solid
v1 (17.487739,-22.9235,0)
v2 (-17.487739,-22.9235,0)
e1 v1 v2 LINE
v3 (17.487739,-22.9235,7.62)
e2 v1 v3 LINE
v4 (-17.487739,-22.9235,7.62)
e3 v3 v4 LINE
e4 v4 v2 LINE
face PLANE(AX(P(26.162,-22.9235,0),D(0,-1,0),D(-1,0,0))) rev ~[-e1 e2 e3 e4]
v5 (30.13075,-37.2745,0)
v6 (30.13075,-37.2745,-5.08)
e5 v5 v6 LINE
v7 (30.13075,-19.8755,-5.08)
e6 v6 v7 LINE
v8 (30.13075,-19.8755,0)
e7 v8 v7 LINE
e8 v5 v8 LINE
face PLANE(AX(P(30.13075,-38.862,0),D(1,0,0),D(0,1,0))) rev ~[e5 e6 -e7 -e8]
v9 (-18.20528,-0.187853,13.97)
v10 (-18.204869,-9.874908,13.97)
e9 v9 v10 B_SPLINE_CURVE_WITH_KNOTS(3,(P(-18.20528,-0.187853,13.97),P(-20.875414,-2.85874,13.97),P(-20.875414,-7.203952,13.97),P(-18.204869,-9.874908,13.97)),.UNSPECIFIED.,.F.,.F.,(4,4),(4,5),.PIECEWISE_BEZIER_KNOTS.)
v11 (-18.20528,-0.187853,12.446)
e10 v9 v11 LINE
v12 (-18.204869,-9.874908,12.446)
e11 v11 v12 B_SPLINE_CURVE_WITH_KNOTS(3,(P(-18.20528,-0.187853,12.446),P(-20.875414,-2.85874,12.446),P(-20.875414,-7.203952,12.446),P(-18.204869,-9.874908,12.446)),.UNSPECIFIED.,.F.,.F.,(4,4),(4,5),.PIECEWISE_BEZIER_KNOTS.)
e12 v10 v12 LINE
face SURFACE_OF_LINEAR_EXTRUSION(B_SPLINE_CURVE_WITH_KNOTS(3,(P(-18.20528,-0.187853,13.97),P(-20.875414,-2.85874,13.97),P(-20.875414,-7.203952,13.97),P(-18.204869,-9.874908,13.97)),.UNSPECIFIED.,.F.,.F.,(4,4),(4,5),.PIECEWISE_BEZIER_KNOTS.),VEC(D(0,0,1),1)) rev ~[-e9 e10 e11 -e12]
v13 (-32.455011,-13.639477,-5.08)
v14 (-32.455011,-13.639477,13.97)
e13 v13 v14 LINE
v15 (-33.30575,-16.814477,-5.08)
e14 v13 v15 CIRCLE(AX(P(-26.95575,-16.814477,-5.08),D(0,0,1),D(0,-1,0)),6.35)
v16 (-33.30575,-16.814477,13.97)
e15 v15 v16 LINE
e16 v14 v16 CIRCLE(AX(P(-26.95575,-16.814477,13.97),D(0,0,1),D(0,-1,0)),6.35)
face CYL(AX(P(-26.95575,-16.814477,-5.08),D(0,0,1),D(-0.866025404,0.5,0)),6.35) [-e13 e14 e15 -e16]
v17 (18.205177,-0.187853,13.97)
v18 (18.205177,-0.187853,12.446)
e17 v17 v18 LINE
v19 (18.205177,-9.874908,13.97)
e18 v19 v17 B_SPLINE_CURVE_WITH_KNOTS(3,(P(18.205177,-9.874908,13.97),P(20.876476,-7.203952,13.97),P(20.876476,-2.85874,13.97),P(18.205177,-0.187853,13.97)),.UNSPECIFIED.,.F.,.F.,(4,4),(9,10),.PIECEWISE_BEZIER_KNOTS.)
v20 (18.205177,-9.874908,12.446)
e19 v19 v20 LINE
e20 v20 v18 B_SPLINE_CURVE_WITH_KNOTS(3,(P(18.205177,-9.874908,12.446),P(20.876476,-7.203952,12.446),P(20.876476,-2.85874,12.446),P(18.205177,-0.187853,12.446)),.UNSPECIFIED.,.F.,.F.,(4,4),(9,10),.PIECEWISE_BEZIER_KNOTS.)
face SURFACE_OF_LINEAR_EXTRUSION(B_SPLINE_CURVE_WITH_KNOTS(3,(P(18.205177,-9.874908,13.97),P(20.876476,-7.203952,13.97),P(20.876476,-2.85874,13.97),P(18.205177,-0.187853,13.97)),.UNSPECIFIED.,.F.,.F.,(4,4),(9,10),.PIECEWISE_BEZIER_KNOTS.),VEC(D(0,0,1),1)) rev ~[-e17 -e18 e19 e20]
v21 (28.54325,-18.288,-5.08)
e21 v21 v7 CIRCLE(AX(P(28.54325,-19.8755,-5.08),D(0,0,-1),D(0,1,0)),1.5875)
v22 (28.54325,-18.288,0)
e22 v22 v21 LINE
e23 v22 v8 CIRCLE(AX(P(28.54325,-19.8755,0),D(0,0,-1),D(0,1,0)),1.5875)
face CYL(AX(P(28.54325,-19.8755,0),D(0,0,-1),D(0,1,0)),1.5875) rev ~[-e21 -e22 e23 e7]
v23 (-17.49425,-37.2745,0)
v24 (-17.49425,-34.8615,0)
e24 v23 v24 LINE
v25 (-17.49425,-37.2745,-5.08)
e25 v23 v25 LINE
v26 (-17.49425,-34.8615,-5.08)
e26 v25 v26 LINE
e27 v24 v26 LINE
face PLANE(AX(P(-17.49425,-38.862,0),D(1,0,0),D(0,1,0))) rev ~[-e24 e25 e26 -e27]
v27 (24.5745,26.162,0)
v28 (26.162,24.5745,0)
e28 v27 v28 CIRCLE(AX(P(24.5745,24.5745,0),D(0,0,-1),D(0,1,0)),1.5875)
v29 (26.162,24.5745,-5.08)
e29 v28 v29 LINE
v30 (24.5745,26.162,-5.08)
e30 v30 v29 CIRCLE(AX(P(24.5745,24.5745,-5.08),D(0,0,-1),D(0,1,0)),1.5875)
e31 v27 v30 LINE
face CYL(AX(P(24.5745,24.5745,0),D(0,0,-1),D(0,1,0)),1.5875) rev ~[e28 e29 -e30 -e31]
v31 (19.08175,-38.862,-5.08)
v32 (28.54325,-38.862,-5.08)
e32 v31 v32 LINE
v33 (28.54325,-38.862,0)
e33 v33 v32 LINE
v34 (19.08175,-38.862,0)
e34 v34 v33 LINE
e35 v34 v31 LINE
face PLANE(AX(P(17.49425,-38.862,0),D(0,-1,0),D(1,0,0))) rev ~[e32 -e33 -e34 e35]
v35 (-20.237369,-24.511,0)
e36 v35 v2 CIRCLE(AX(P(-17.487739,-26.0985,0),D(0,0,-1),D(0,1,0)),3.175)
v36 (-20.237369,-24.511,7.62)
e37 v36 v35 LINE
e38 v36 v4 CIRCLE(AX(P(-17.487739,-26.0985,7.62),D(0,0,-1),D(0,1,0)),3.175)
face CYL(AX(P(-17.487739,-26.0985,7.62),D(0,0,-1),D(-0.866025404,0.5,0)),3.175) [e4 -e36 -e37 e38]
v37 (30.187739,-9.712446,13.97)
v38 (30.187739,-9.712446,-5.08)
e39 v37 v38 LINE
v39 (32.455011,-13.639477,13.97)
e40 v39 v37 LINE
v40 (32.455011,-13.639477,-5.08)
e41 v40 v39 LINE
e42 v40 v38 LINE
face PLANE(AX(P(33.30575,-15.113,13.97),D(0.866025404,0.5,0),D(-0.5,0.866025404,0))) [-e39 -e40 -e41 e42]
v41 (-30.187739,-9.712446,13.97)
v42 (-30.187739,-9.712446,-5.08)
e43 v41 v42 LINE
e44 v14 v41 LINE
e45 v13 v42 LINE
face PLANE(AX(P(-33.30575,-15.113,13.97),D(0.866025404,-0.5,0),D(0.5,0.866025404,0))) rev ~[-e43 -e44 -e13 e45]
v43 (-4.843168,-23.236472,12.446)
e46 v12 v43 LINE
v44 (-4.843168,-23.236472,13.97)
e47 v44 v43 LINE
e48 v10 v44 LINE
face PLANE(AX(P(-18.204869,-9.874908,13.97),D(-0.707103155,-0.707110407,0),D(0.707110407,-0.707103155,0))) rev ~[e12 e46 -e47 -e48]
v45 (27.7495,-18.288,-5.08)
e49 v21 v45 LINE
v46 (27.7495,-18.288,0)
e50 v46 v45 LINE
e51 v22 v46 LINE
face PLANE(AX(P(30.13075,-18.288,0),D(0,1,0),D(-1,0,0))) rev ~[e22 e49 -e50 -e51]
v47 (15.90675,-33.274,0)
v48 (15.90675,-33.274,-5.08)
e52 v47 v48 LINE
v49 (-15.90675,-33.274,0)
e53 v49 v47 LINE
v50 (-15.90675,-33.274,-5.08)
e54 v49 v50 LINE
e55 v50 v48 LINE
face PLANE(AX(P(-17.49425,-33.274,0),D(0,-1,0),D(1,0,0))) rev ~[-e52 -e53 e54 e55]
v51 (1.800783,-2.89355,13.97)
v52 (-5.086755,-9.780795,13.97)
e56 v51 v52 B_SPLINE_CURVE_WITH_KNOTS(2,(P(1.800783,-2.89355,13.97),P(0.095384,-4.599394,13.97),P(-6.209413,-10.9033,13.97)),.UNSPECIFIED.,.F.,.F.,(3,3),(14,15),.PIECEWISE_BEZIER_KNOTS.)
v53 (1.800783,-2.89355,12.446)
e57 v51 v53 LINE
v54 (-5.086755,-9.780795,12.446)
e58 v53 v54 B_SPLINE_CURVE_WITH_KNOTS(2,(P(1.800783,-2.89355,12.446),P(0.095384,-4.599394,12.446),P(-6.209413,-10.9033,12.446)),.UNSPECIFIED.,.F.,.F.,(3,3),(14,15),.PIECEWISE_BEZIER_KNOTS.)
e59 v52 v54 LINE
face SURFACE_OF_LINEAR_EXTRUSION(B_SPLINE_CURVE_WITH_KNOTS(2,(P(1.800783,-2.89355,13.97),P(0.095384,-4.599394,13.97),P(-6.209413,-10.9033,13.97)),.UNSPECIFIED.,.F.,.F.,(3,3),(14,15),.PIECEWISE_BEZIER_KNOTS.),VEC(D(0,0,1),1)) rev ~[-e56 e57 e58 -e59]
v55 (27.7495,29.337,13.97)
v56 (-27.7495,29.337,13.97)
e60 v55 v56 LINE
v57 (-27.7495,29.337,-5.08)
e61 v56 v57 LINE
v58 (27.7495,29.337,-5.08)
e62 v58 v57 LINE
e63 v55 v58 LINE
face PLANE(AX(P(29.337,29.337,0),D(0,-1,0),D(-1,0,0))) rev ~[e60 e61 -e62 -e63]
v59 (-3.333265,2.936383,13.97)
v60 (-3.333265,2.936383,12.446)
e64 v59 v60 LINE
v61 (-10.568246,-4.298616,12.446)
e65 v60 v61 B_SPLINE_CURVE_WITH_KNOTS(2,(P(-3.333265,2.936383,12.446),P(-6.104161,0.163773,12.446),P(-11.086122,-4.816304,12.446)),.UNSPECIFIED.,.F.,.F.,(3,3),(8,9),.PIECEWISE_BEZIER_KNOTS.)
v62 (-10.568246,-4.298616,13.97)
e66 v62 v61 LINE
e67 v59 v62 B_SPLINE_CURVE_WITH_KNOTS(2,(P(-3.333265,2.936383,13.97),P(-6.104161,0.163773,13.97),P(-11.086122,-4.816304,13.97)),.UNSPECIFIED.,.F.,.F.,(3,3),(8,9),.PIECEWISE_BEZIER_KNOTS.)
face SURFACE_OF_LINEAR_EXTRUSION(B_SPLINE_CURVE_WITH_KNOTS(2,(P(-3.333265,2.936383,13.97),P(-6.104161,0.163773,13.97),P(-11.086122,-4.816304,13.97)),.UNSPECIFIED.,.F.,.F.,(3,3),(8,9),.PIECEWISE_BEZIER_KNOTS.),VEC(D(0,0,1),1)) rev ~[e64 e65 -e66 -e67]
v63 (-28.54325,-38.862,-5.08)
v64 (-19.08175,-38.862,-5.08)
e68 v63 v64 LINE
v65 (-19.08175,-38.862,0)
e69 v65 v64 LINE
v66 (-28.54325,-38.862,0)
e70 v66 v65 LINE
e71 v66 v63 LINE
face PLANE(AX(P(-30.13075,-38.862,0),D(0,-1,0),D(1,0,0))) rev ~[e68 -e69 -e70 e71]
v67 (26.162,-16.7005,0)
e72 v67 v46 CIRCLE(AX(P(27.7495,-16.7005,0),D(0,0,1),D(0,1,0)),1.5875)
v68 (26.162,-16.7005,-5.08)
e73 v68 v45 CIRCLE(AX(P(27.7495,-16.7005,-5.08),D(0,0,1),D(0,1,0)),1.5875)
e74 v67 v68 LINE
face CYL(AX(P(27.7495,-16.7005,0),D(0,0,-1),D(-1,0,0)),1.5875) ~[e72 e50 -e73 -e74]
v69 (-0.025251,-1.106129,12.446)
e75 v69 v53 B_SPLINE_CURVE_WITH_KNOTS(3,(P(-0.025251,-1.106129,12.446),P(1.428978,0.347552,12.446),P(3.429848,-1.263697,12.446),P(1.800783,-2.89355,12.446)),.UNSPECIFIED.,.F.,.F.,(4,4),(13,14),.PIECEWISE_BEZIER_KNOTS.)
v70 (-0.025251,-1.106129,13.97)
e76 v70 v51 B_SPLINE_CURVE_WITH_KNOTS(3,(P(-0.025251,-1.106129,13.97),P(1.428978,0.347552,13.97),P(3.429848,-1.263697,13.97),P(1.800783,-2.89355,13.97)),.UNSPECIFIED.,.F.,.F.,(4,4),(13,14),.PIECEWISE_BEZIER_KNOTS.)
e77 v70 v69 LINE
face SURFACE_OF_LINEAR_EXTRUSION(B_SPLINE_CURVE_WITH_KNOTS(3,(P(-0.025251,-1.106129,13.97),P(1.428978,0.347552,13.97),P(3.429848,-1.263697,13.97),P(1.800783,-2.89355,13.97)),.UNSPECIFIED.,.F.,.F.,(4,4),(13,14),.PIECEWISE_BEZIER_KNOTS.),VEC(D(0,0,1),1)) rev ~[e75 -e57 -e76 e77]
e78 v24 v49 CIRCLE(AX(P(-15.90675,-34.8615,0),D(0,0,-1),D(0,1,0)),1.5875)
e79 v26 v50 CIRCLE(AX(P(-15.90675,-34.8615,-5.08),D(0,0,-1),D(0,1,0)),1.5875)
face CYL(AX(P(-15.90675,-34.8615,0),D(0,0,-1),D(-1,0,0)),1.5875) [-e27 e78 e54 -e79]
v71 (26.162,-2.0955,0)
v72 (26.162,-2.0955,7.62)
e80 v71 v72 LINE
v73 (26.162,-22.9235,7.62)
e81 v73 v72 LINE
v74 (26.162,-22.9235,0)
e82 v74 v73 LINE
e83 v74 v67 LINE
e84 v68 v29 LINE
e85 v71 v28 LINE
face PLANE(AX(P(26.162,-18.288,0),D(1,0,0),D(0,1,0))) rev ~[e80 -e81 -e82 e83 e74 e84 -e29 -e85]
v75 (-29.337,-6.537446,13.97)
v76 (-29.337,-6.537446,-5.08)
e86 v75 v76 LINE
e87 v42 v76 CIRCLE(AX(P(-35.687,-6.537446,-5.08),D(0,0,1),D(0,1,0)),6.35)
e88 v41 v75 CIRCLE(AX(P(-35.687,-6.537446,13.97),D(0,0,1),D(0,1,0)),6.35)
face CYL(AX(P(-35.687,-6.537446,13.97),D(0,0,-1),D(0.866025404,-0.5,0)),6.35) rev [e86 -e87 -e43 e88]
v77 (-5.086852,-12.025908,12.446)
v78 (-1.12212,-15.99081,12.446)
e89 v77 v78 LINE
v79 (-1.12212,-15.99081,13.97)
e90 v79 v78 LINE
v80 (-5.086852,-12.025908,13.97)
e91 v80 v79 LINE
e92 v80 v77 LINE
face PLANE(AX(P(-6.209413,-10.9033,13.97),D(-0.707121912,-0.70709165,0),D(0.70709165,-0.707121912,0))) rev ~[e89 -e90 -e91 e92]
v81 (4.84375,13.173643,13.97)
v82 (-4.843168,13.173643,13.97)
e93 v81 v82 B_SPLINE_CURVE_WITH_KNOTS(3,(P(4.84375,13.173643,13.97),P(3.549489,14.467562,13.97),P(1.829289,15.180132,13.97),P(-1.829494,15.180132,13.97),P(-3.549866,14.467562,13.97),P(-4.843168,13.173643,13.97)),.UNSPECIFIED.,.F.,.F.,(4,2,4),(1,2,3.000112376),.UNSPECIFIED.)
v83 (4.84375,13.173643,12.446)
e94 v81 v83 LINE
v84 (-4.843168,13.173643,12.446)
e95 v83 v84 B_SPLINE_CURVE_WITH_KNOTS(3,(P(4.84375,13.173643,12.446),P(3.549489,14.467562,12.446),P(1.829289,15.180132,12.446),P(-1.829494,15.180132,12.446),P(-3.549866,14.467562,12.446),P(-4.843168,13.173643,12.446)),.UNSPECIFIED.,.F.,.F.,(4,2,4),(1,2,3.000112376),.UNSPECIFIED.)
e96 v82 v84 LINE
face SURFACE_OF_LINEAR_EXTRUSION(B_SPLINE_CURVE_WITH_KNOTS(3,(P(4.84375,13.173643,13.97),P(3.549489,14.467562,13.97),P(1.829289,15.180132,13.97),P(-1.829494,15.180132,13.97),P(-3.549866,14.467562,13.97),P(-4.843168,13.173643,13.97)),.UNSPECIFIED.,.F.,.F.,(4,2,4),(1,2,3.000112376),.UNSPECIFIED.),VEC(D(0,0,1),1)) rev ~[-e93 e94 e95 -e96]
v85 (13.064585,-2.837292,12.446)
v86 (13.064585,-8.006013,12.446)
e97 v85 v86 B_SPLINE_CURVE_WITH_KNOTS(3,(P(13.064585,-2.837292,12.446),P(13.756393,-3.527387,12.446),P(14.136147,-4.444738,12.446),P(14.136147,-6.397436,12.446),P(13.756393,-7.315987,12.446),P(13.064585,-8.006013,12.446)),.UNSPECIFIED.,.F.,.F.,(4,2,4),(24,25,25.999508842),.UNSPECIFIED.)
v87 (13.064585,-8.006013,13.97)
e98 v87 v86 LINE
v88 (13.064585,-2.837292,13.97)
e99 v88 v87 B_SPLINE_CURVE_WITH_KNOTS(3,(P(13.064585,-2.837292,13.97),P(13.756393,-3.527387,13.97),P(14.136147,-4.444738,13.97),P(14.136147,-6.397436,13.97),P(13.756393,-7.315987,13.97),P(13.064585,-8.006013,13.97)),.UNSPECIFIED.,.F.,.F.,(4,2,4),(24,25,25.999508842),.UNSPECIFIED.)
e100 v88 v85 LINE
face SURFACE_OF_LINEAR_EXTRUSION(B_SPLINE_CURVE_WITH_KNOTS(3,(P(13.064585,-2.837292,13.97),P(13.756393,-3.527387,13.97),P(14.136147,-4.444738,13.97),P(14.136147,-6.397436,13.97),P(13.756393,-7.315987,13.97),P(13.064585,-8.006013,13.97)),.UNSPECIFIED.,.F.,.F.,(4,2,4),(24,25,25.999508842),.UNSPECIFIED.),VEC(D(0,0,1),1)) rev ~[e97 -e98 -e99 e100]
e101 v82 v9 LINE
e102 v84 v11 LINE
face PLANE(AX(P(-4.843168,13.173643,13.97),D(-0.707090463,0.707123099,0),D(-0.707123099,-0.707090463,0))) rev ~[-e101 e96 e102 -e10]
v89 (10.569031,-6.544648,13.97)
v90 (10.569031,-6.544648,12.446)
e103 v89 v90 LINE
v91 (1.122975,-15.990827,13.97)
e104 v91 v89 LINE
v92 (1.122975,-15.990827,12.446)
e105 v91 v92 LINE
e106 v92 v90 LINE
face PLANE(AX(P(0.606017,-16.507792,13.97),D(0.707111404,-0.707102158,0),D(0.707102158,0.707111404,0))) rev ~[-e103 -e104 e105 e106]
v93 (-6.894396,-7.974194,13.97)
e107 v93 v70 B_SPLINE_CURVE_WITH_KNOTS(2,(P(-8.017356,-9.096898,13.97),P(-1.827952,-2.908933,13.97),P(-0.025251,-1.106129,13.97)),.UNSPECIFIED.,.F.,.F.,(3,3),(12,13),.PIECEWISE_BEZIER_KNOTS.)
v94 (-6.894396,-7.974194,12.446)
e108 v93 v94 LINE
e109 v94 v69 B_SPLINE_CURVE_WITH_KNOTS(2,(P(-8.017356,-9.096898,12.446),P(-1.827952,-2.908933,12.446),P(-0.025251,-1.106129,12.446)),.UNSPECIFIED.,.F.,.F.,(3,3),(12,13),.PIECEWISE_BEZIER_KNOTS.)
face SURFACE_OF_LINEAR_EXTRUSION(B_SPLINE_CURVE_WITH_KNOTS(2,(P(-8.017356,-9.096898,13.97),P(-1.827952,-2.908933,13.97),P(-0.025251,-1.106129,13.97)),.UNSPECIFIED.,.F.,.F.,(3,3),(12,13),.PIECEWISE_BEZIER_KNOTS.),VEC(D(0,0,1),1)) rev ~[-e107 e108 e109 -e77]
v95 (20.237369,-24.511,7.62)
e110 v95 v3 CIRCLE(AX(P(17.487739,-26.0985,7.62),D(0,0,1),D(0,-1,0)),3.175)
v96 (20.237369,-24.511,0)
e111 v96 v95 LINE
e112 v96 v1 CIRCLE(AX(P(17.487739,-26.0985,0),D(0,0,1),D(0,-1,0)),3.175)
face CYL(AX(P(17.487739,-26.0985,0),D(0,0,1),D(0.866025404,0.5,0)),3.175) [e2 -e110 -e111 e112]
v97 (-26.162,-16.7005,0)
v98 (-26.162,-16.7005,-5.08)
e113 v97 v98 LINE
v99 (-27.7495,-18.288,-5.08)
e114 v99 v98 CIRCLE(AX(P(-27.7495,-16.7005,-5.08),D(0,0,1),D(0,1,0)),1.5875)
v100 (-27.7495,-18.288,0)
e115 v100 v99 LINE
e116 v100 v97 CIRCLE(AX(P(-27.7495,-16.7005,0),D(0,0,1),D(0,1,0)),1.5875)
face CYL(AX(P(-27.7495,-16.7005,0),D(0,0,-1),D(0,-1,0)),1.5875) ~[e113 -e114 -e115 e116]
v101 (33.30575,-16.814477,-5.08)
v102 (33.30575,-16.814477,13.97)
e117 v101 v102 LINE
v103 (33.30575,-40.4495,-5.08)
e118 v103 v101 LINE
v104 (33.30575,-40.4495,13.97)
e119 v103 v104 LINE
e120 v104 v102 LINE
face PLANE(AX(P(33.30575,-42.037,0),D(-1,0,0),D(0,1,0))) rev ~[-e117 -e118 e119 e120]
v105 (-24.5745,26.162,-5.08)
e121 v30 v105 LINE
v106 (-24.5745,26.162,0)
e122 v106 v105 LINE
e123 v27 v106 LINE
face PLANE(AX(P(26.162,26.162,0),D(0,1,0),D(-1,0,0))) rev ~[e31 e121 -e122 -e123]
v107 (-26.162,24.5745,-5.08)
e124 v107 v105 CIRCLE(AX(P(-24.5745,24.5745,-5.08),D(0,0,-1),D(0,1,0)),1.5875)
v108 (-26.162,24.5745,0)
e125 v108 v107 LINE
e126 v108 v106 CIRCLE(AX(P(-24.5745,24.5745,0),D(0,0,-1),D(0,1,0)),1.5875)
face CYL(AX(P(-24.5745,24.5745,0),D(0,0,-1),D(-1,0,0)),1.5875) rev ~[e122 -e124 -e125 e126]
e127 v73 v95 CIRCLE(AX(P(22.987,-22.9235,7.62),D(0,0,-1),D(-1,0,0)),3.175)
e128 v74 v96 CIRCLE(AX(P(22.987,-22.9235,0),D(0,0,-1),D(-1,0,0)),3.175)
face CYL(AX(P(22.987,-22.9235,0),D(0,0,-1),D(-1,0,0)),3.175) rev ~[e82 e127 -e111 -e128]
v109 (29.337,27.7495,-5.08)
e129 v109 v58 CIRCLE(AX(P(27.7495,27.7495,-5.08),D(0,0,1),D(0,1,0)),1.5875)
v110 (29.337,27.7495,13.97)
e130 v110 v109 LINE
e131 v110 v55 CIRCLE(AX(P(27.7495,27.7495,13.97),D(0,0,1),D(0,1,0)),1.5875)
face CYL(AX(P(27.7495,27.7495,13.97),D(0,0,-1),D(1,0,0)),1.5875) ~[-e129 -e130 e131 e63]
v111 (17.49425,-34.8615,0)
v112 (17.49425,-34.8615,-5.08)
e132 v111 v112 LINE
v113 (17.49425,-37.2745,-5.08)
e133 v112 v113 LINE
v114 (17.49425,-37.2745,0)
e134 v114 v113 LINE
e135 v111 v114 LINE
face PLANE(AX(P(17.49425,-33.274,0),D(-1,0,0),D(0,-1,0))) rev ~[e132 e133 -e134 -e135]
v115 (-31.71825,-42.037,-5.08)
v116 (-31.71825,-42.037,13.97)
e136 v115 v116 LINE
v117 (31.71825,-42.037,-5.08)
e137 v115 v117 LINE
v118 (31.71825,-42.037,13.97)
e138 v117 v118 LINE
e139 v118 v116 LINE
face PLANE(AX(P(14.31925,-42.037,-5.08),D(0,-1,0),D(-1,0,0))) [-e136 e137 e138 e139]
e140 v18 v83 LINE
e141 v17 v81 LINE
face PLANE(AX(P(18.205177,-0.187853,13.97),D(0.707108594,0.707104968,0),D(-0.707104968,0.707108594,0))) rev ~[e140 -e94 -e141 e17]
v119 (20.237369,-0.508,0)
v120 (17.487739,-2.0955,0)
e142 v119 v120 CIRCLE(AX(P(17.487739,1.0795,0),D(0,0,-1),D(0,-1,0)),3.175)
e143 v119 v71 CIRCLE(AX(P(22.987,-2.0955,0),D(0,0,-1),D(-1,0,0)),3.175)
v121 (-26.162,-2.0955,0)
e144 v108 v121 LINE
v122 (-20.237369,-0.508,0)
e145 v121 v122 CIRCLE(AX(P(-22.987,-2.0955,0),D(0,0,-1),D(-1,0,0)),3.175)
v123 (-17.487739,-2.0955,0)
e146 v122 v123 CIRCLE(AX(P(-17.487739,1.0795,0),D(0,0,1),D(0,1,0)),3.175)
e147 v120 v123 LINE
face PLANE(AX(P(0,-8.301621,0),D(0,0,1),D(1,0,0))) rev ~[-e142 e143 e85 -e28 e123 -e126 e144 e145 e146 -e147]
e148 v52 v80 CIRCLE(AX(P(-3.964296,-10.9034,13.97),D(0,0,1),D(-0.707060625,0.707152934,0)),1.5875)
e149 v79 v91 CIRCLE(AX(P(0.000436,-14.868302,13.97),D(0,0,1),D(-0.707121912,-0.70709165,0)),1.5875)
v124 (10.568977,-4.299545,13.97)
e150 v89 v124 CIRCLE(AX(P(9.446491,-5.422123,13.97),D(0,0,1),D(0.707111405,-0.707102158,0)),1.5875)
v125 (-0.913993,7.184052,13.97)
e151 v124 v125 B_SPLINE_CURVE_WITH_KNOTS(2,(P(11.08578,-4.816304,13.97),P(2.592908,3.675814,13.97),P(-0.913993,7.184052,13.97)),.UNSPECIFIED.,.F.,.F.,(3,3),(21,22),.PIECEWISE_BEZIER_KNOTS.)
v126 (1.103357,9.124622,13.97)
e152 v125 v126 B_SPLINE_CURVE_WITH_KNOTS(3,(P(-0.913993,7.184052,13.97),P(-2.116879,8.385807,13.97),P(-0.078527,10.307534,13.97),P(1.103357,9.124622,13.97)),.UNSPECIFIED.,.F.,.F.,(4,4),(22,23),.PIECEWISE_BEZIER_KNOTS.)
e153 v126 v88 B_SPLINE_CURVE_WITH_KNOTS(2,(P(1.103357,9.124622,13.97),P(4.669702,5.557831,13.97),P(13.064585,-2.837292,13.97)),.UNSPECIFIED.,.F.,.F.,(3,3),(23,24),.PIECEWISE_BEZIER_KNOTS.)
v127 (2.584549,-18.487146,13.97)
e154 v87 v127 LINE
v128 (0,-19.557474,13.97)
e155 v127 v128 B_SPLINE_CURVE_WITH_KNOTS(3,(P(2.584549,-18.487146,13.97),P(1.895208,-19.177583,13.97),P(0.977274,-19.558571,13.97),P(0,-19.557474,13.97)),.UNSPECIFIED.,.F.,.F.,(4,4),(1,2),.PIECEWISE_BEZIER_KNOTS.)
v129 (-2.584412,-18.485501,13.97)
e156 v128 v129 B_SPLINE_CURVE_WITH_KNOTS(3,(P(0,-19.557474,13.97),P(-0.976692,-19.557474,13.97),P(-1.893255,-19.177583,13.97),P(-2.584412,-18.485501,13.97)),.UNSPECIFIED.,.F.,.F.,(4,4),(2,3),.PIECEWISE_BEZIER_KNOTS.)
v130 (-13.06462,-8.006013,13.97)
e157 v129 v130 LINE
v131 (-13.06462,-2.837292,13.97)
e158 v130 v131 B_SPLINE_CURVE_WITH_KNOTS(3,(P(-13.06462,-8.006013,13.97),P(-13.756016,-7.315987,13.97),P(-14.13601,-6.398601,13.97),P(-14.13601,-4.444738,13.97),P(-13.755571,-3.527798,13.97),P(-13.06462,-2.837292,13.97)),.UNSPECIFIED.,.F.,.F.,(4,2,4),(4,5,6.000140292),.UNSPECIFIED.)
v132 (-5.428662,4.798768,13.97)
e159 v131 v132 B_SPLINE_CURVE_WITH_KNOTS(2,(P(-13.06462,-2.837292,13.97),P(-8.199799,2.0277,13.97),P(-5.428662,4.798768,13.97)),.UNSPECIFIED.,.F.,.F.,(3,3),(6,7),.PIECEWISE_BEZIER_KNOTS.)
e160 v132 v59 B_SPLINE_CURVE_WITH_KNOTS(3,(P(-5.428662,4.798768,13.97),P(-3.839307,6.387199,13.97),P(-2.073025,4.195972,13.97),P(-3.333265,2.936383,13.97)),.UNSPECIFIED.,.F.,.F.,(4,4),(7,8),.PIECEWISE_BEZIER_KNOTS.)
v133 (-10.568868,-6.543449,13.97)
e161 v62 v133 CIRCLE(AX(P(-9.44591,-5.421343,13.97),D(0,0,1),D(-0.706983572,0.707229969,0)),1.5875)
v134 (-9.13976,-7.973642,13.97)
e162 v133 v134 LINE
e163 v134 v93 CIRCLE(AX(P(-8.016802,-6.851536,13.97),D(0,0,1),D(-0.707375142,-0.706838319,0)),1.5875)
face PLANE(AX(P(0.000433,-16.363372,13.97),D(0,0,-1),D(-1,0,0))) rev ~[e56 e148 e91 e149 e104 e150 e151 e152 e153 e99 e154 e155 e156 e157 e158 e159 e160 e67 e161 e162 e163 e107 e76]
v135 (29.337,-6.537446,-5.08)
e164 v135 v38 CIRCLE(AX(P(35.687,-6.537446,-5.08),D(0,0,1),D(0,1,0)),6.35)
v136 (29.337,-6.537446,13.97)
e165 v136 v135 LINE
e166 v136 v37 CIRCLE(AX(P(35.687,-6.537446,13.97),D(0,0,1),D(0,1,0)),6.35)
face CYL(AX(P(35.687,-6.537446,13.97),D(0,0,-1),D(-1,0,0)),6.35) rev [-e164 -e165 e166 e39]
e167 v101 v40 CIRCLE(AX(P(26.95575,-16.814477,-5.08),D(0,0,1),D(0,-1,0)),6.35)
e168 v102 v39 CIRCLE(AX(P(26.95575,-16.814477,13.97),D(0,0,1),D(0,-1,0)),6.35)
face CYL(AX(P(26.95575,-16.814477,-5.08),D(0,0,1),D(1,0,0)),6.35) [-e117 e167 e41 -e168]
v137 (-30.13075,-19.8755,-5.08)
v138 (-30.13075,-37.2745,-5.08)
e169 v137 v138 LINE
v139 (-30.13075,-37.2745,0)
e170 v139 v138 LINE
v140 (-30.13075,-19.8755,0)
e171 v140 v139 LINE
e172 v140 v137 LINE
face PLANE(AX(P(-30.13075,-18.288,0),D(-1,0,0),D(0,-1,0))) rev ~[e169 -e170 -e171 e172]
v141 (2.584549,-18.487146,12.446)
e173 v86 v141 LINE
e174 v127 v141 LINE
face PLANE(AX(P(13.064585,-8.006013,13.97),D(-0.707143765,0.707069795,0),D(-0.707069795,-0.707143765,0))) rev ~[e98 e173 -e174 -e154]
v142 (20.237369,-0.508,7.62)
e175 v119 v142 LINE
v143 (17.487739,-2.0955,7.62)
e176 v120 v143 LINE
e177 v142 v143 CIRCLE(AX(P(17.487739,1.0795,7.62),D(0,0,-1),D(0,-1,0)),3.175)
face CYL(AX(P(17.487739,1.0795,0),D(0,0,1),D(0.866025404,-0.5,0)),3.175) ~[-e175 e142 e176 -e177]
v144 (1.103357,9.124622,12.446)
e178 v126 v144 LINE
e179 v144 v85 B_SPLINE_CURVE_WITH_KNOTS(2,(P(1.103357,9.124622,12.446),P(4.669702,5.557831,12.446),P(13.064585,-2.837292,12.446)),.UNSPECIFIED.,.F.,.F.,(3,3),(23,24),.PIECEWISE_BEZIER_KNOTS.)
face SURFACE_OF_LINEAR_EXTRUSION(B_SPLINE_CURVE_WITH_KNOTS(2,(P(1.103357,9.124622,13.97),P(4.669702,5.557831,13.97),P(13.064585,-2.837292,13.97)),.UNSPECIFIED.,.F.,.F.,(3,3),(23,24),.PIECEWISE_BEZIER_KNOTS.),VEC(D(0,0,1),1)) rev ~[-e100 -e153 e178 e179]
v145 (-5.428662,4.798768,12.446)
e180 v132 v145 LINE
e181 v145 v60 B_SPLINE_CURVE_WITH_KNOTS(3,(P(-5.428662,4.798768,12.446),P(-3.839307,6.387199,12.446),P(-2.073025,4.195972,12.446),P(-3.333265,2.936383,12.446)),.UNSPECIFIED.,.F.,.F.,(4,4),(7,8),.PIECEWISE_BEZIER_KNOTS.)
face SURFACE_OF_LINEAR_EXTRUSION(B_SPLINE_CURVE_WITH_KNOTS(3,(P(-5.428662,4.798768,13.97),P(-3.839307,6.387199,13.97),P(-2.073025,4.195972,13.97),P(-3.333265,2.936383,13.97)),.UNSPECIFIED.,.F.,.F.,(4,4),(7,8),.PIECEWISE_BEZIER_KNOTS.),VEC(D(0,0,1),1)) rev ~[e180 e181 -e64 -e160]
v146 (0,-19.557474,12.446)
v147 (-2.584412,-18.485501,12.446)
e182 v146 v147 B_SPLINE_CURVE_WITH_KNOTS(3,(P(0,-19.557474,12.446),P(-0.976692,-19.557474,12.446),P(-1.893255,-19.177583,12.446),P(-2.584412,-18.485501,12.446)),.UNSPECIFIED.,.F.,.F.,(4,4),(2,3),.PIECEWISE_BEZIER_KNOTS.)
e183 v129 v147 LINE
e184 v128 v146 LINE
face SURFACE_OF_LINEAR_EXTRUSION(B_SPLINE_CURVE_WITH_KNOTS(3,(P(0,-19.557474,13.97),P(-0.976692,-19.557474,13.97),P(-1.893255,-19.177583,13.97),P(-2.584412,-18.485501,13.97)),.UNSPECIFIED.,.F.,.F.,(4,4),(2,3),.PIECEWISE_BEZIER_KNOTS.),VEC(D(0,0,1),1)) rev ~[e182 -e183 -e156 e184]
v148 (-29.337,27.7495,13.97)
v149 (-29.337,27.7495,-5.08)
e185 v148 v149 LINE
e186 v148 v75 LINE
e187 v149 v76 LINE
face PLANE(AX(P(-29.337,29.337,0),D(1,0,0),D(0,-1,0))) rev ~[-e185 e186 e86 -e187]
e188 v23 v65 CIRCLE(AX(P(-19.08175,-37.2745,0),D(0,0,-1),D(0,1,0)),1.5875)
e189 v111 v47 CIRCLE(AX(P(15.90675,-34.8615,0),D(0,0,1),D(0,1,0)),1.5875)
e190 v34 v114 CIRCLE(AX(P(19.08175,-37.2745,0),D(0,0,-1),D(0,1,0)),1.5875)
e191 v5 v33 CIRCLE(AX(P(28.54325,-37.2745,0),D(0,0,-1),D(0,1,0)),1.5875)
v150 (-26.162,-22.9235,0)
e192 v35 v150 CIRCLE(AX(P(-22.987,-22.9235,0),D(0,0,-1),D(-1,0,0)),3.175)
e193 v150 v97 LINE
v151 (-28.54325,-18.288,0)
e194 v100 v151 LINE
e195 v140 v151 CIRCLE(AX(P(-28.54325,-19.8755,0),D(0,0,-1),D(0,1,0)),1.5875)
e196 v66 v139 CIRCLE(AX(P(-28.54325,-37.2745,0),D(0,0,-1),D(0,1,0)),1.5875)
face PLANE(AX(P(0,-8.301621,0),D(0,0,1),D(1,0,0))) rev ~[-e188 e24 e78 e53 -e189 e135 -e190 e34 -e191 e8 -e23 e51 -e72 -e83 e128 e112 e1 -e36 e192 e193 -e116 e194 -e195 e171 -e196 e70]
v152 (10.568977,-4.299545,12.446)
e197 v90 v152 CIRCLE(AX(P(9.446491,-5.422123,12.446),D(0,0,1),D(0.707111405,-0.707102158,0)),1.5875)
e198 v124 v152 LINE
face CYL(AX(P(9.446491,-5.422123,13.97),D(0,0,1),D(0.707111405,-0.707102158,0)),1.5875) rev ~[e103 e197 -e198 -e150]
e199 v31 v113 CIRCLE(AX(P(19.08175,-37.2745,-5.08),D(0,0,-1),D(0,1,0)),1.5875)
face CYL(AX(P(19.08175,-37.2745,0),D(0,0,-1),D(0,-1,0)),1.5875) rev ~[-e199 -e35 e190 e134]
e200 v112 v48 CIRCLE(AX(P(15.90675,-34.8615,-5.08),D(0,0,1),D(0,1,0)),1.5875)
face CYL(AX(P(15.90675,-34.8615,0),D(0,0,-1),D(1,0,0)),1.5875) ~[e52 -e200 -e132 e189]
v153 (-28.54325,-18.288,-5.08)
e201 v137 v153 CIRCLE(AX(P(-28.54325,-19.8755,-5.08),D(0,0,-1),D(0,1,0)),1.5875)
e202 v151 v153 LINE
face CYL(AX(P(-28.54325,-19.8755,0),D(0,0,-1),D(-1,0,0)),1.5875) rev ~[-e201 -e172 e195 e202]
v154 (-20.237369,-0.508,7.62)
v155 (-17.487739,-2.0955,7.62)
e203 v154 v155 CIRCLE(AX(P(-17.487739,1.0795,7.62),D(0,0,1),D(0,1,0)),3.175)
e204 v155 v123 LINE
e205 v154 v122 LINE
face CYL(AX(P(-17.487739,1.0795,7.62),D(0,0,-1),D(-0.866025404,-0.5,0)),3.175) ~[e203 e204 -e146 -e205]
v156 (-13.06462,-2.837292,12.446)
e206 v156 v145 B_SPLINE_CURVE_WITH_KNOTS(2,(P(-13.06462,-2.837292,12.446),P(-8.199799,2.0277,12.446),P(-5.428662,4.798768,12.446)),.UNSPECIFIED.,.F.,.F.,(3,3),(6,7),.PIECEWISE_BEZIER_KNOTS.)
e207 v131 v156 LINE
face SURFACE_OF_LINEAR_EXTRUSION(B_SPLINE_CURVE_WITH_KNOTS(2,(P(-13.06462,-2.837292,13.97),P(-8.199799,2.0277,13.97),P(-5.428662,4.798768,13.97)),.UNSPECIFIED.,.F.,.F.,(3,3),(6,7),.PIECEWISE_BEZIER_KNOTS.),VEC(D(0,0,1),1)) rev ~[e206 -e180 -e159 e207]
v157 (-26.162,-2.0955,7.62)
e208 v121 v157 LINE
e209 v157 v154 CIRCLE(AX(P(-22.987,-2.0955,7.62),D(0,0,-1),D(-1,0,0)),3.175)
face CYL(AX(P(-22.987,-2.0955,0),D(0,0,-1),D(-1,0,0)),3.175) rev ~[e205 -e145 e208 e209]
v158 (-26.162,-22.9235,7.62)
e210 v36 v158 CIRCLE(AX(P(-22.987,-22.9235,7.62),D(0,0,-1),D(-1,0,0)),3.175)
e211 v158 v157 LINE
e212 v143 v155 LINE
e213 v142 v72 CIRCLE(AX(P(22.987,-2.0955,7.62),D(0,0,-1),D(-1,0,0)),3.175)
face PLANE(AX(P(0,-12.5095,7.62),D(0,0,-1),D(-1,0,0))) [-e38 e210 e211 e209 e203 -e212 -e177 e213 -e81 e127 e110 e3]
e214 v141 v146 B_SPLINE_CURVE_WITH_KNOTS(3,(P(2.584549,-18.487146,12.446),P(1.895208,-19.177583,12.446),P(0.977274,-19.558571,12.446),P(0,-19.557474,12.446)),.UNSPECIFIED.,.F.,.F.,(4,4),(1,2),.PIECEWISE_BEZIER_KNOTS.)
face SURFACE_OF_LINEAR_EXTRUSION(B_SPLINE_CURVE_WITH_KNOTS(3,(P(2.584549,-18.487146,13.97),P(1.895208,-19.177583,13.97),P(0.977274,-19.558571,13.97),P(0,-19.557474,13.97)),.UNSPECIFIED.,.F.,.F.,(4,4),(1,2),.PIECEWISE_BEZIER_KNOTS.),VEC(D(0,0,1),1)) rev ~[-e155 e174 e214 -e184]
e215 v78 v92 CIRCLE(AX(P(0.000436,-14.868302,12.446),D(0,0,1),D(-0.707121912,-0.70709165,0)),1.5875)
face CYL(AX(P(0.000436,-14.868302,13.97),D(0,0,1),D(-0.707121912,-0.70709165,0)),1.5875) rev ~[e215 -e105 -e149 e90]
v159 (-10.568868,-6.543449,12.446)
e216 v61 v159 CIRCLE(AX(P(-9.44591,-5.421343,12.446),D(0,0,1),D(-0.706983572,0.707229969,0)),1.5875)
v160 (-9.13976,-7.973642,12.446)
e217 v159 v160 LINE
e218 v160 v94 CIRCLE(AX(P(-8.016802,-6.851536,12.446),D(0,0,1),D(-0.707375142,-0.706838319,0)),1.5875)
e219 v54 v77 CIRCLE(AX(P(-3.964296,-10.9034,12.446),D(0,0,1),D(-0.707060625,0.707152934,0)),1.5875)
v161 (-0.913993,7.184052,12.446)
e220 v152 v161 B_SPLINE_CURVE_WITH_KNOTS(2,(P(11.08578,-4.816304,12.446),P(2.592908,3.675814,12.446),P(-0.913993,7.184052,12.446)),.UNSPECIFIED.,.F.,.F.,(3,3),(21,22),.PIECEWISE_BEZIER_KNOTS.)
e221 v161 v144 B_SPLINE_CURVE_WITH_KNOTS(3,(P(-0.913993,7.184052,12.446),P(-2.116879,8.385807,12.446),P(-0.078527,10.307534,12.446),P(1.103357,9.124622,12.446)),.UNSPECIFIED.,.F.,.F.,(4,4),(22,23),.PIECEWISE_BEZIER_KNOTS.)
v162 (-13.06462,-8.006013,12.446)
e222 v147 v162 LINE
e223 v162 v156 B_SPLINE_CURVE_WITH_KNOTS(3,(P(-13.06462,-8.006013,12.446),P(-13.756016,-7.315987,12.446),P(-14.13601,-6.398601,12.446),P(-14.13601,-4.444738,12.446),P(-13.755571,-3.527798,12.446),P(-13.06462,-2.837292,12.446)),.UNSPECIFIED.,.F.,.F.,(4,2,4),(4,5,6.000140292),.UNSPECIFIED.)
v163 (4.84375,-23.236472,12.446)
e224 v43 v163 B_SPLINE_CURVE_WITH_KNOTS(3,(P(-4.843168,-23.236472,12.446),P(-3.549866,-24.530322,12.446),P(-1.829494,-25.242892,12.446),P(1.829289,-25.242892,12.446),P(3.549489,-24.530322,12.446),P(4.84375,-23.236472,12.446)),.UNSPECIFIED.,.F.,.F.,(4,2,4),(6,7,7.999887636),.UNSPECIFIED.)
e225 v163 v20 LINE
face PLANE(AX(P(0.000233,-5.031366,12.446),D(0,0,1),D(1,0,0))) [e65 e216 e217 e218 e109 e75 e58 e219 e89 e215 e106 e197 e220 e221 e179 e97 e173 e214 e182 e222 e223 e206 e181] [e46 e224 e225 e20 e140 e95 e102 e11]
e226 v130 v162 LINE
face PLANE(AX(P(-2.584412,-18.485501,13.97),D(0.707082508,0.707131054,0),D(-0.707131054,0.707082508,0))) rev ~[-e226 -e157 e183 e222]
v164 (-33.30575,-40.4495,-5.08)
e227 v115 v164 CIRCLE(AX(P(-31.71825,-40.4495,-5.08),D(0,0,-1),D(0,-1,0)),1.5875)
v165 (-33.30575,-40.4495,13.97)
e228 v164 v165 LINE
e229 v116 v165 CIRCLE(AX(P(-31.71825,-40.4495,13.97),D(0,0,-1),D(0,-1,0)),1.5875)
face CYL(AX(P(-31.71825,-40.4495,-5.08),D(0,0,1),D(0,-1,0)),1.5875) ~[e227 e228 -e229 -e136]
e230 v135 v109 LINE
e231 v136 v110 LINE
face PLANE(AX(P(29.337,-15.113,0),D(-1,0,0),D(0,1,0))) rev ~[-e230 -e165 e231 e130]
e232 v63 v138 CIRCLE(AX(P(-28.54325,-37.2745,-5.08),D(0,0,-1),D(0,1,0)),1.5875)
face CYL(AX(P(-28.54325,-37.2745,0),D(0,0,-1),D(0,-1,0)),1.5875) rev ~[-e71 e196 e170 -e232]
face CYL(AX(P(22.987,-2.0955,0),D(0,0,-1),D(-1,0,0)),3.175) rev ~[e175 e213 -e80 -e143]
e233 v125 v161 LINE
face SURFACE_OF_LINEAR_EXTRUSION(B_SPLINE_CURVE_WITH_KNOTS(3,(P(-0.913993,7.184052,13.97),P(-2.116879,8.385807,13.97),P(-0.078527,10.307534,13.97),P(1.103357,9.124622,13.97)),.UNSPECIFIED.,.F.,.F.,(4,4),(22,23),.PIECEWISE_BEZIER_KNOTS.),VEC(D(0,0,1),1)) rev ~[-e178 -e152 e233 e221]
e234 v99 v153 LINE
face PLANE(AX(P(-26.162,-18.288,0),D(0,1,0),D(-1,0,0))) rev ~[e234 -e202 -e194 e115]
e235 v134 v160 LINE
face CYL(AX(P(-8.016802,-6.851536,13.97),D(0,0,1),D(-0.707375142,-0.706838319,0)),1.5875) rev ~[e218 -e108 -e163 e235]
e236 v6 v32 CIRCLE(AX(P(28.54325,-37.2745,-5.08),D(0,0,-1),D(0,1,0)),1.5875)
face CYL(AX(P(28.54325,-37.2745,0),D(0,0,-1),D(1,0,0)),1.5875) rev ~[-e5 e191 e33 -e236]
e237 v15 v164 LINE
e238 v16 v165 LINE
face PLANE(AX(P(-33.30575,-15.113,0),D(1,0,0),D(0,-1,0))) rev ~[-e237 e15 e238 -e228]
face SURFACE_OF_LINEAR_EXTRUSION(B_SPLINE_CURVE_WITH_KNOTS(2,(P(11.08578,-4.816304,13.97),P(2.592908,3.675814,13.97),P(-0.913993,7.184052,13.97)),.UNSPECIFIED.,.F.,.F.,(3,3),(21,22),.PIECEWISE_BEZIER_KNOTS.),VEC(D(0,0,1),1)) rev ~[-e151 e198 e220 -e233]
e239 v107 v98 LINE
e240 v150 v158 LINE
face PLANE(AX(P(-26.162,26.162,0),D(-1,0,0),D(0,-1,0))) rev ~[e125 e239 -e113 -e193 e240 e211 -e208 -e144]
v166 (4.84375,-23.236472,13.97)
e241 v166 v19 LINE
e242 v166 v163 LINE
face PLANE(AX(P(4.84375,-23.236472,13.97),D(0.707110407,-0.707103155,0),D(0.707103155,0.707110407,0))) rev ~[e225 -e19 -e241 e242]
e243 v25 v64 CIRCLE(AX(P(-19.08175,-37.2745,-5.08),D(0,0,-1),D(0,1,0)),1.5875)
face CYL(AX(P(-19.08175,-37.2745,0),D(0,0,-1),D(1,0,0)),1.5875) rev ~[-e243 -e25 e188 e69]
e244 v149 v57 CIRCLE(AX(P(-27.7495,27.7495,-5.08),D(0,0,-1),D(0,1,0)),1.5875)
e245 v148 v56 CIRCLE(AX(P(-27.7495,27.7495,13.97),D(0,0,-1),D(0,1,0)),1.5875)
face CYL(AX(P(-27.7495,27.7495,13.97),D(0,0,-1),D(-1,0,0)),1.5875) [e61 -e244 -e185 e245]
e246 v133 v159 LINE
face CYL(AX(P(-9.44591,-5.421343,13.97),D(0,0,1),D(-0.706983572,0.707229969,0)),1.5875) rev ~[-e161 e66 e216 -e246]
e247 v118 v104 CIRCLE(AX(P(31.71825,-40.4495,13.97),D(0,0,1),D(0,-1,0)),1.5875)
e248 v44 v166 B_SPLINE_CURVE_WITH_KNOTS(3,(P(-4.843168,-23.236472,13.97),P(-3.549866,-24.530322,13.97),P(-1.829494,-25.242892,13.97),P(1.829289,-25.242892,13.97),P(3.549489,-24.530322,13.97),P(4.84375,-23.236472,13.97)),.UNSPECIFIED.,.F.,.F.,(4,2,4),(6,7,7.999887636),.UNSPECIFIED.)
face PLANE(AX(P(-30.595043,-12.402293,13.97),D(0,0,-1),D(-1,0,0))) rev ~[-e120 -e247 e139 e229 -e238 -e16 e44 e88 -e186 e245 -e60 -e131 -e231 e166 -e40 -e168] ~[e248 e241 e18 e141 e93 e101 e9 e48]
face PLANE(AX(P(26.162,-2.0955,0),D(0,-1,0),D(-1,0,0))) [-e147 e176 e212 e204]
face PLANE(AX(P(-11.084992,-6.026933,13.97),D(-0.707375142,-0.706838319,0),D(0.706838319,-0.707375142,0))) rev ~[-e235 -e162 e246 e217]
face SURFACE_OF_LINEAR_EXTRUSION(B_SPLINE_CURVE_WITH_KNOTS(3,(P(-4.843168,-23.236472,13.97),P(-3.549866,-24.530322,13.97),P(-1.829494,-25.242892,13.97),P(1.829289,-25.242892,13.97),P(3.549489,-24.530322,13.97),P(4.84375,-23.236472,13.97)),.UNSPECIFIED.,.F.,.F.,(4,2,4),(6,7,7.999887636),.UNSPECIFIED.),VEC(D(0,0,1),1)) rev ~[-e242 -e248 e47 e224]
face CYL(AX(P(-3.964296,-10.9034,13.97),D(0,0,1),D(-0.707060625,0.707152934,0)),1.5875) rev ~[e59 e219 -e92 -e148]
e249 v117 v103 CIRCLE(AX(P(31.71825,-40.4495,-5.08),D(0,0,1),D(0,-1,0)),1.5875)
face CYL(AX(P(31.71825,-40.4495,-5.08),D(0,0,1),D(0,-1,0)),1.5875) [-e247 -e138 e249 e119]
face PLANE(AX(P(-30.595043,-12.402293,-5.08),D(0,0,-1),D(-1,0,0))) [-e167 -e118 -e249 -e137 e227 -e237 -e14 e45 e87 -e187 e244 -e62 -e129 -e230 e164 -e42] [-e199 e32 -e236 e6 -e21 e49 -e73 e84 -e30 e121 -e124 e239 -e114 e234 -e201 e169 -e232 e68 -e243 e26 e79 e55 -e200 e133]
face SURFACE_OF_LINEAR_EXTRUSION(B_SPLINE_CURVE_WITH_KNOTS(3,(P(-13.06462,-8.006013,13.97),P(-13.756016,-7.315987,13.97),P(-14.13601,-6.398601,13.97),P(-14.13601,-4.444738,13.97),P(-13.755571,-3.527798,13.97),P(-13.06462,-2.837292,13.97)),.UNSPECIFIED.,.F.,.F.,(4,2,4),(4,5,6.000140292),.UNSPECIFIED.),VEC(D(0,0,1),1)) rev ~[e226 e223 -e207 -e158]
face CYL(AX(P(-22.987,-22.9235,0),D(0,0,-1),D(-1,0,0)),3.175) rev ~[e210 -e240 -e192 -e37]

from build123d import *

# Parameters (mm, degrees)
OVERLAP_PROFILE_DEPTH              = 5.08
END_THICKNESS_DEPTH                = 13.97
FILLET1_R                          = 1.5875
FILLET2_R                          = 1.5875
SKETCH7_W                          = 28.6385
SKETCH7_H                          = 5.588
BOTTOM_FILL_DEPTH                  = 19.05
LOGO_INLAY_CUTOUT_DEPTH            = 1.524
SIDE_TRANSITION_FILL_DEPTH         = 19.05
SKETCH8_W                          = 52.324
SKETCH8_H                          = 20.828
MAGNETIC_CATCH_CUTOUT_DEPTH        = 7.62
FILLET3_R                          = 6.35
FILLET4_R                          = 6.35
SKETCH10_R                         = 3.175
ROUTER_BIT_RELIEF_DEPTH            = 7.62
FILLET5_R                          = 3.175
LOGO_FILL_FOR_1_8_ROUTER_BIT_DEPTH = 1.524


with BuildPart() as part:
    # Sketch1 → Overlap Profile (new body)
    with BuildSketch(Plane.XY):
        Polygon((-14.31925, -36.449), (14.31925, -36.449), (14.31925, -42.037), (33.30575, -42.037), (33.30575, -15.113), (29.337, -15.113), (29.337, 29.337), (-29.337, 29.337), (-29.337, -15.113), (-33.30575, -15.113), (-33.30575, -42.037), (-14.31925, -42.037), align=None)
        Polygon((-17.49425, -33.274), (17.49425, -33.274), (17.49425, -38.862), (30.13075, -38.862), (30.13075, -18.288), (26.162, -18.288), (26.162, 26.162), (-26.162, 26.162), (-26.162, -18.288), (-30.13075, -18.288), (-30.13075, -38.862), (-17.49425, -38.862), align=None, mode=Mode.SUBTRACT)
    extrude(amount=-OVERLAP_PROFILE_DEPTH)

    # Sketch2 → End Thickness (add)
    with BuildSketch(Plane.XY):
        Polygon((-29.337, 29.337), (-29.337, -15.113), (-33.30575, -15.113), (-33.30575, -42.037), (-14.31925, -42.037), (-14.31925, -36.449), (14.31925, -36.449), (14.31925, -42.037), (33.30575, -42.037), (33.30575, -15.113), (29.337, -15.113), (29.337, 29.337), align=None)
    extrude(amount=END_THICKNESS_DEPTH)

    # Fillet1
    fillet1_edges = [part.edges().sort_by_distance(p)[0] for p in [
        (17.49425, -38.862, -2.54),
        (17.49425, -33.274, -2.54),
        (-17.49425, -33.274, -2.54),
        (-17.49425, -38.862, -2.54),
        (-30.13075, -38.862, -2.54),
        (-30.13075, -18.288, -2.54),
        (-26.162, -18.288, -2.54),
        (-26.162, 26.162, -2.54),
        (26.162, 26.162, -2.54),
        (26.162, -18.288, -2.54),
        (30.13075, -18.288, -2.54),
        (30.13075, -38.862, -2.54),
    ]]
    fillet(fillet1_edges, radius=FILLET1_R)

    # Fillet2
    fillet2_edges = [part.edges().sort_by_distance(p)[0] for p in [
        (-33.30575, -42.037, 4.445),
        (-29.337, 29.337, 4.445),
        (29.337, 29.337, 4.445),
        (33.30575, -42.037, 4.445),
    ]]
    fillet(fillet2_edges, radius=FILLET2_R)

    # Sketch7 → Bottom Fill (add)
    with BuildSketch(Plane(origin=(0, 0, -5.08), x_dir=(-1, 0, 0), z_dir=(0, 0, -1))):
        with Locations((0, -39.243)):
            Rectangle(SKETCH7_W, SKETCH7_H)
    extrude(amount=-BOTTOM_FILL_DEPTH)

    # Sketch5 → Logo Inlay Cutout (cut)
    with BuildSketch(Plane.XY.offset(13.97)):
        with BuildLine():
            Line((18.205177148, -0.187852502), (4.843750234, 13.173642935))
            add(Edge.make_bspline(
                [(4.843750234, 13.173642935), (3.54948877, 14.467561785), (1.829288652, 15.180131934), (0, 15.180131934)],
                knots=[1, 1, 1, 1, 2, 2, 2, 2], degree=3))
            add(Edge.make_bspline(
                [(0, 15.180131934), (-1.829494221, 15.180131934), (-3.549865646, 14.467561785), (-4.843167789, 13.173642935)],
                knots=[2, 2, 2, 2, 3, 3, 3, 3], degree=3))
            Line((-4.843167789, 13.173642935), (-18.205279933, -0.187852502))
            add(Edge.make_bspline(
                [(-18.205279933, -0.187852502), (-20.875413695, -2.858740017), (-20.875413695, -7.203951534), (-18.204868795, -9.874907572)],
                knots=[4, 4, 4, 4, 5, 5, 5, 5], degree=3))
            Line((-18.204868795, -9.874907572), (-4.843167789, -23.236471532))
            add(Edge.make_bspline(
                [(-4.843167789, -23.236471532), (-3.549865646, -24.530321859), (-1.829494221, -25.242892008), (0, -25.242892008)],
                knots=[6, 6, 6, 6, 7, 7, 7, 7], degree=3))
            add(Edge.make_bspline(
                [(0, -25.242892008), (1.829288652, -25.242892008), (3.54948877, -24.530321859), (4.843750234, -23.236471532)],
                knots=[7, 7, 7, 7, 8, 8, 8, 8], degree=3))
            Line((4.843750234, -23.236471532), (18.205177148, -9.874907572))
            add(Edge.make_bspline(
                [(18.205177148, -9.874907572), (20.876475801, -7.203951534), (20.876475801, -2.858740017), (18.205177148, -0.187852502)],
                knots=[9, 9, 9, 9, 10, 10, 10, 10], degree=3))
        make_face()
        with BuildLine():
            Line((13.064585498, -8.006012655), (2.584548599, -18.487145921))
            add(Edge.make_bspline(
                [(2.584548599, -18.487145921), (1.895207729, -19.177583158), (0.977274302, -19.558570755), (0, -19.557474388)],
                knots=[1, 1, 1, 1, 2, 2, 2, 2], degree=3))
            add(Edge.make_bspline(
                [(0, -19.557474388), (-0.976691857, -19.557474388), (-1.893254825, -19.177583158), (-2.584411553, -18.485501371)],
                knots=[2, 2, 2, 2, 3, 3, 3, 3], degree=3))
            Line((-2.584411553, -18.485501371), (-13.06461976, -8.006012655))
            add(Edge.make_bspline(
                [(-13.06461976, -8.006012655), (-13.756016317, -7.315986556), (-14.136010332, -6.398601312), (-14.136010332, -5.421738148)],
                knots=[4, 4, 4, 4, 5, 5, 5, 5], degree=3))
            add(Edge.make_bspline(
                [(-14.136010332, -5.421738148), (-14.136010332, -4.444737938), (-13.755570918, -3.527798093), (-13.06461976, -2.837292334)],
                knots=[5, 5, 5, 5, 6, 6, 6, 6], degree=3))
            add(Edge.make_bspline(
                [(-13.06461976, -2.837292334), (-8.199798718, 2.027700015), (-5.428662129, 4.798768081)],
                knots=[6, 6, 6, 7, 7, 7], degree=2))
            add(Edge.make_bspline(
                [(-5.428662129, 4.798768081), (-3.839306583, 6.387198567), (-2.073024783, 4.195971697), (-3.333264603, 2.936382845)],
                knots=[7, 7, 7, 7, 8, 8, 8, 8], degree=3))
            add(Edge.make_bspline(
                [(-3.333264603, 2.936382845), (-6.104161362, 0.163773012), (-11.086122385, -4.81630363)],
                knots=[8, 8, 8, 9, 9, 9], degree=2))
            add(Edge.make_bspline(
                [(-11.086122385, -4.81630363), (-11.247288362, -4.978428928), (-11.336745072, -5.192871498), (-11.336745072, -5.421738148)],
                knots=[9, 9, 9, 9, 10, 10, 10, 10], degree=3))
            add(Edge.make_bspline(
                [(-11.336745072, -5.421738148), (-11.336059843, -5.650056615), (-11.247288362, -5.865150152), (-11.084991757, -6.026932835)],
                knots=[10, 10, 10, 10, 11, 11, 11, 11], degree=3))
            Line((-11.084991757, -6.026932835), (-8.017356366, -9.096898006))
            add(Edge.make_bspline(
                [(-8.017356366, -9.096898006), (-1.827952455, -2.908933077), (-0.025250707, -1.106128545)],
                knots=[12, 12, 12, 13, 13, 13], degree=2))
            add(Edge.make_bspline(
                [(-0.025250707, -1.106128545), (1.428977583, 0.347551562), (3.4298477, -1.263697066), (1.800783105, -2.893549675)],
                knots=[13, 13, 13, 13, 14, 14, 14, 14], degree=3))
            add(Edge.make_bspline(
                [(1.800783105, -2.893549675), (0.095383945, -4.599394234), (-6.209412612, -10.903299994)],
                knots=[14, 14, 14, 15, 15, 15], degree=2))
            Line((-6.209412612, -10.903299994), (-0.605503041, -16.507449395))
            add(Edge.make_bspline(
                [(-0.605503041, -16.507449395), (-0.443686096, -16.669095033), (-0.228352728, -16.758380436), (0, -16.758380436)],
                knots=[16, 16, 16, 16, 17, 17, 17, 17], degree=3))
            add(Edge.make_bspline(
                [(0, -16.758380436), (0.22955188, -16.758380436), (0.443754619, -16.669780262), (0.606016963, -16.50779201)],
                knots=[17, 17, 17, 17, 18, 18, 18, 18], degree=3))
            Line((0.606016963, -16.50779201), (11.086465, -6.027206927))
            add(Edge.make_bspline(
                [(11.086465, -6.027206927), (11.247630977, -5.865150152), (11.336436719, -5.649371385), (11.336847856, -5.422560423)],
                knots=[19, 19, 19, 19, 20, 20, 20, 20], degree=3))
            add(Edge.make_bspline(
                [(11.336847856, -5.422560423), (11.336847856, -5.192871498), (11.247630977, -4.977675175), (11.085779771, -4.81630363)],
                knots=[20, 20, 20, 20, 21, 21, 21, 21], degree=3))
            add(Edge.make_bspline(
                [(11.085779771, -4.81630363), (2.592908398, 3.67581399), (-0.913993358, 7.184051944)],
                knots=[21, 21, 21, 22, 22, 22], degree=2))
            add(Edge.make_bspline(
                [(-0.913993358, 7.184051944), (-2.11687947, 8.385807427), (-0.0785273, 10.307533538), (1.103356528, 9.124621866)],
                knots=[22, 22, 22, 22, 23, 23, 23, 23], degree=3))
            add(Edge.make_bspline(
                [(1.103356528, 9.124621866), (4.669701943, 5.557831051), (13.064585498, -2.837292334)],
                knots=[23, 23, 23, 24, 24, 24], degree=2))
            add(Edge.make_bspline(
                [(13.064585498, -2.837292334), (13.756393193, -3.527386955), (14.136147378, -4.444737938), (14.136147378, -5.42132701)],
                knots=[24, 24, 24, 24, 25, 25, 25, 25], degree=3))
            add(Edge.make_bspline(
                [(14.136147378, -5.42132701), (14.136147378, -6.397436422), (13.756393193, -7.315986556), (13.064585498, -8.006012655)],
                knots=[25, 25, 25, 25, 26, 26, 26, 26], degree=3))
        make_face(mode=Mode.SUBTRACT)
    extrude(amount=-LOGO_INLAY_CUTOUT_DEPTH, mode=Mode.SUBTRACT)

    # Sketch9 → Side Transition Fill (add)
    with BuildSketch(Plane.XY.offset(13.97)):
        Polygon((-33.30575, -15.113), (-29.337, -8.238923357), (-29.337, -15.113), align=None)
        Polygon((29.337, -15.113), (33.30575, -15.113), (29.337, -8.238923357), align=None)
    extrude(amount=-SIDE_TRANSITION_FILL_DEPTH)

    # Sketch8 → Magnetic Catch Cutout (cut)
    with BuildSketch(Plane(origin=(0, 0, 0), x_dir=(-1, 0, 0), z_dir=(0, 0, -1))):
        with Locations((0, -12.5095)):
            Rectangle(SKETCH8_W, SKETCH8_H)
    extrude(amount=-MAGNETIC_CATCH_CUTOUT_DEPTH, mode=Mode.SUBTRACT)

    # Fillet3
    fillet3_edges = [part.edges().sort_by_distance(p)[0] for p in [
        (-29.337, -8.238923357, 4.445),
        (29.337, -8.238923357, 4.445),
    ]]
    fillet(fillet3_edges, radius=FILLET3_R)

    # Fillet4
    fillet4_edges = [part.edges().sort_by_distance(p)[0] for p in [
        (-33.30575, -15.113, 4.445),
        (33.30575, -15.113, 4.445),
    ]]
    fillet(fillet4_edges, radius=FILLET4_R)

    # Sketch10 → Router Bit Relief (cut)
    with BuildSketch(Plane(origin=(0, 0, 0), x_dir=(-1, 0, 0), z_dir=(0, 0, -1))):
        with Locations((-22.987, -2.0955)):
            Circle(SKETCH10_R)
        with Locations((-22.987, -22.9235)):
            Circle(SKETCH10_R)
        with Locations((22.987, -22.9235)):
            Circle(SKETCH10_R)
        with Locations((22.987, -2.0955)):
            Circle(SKETCH10_R)
    extrude(amount=-ROUTER_BIT_RELIEF_DEPTH, mode=Mode.SUBTRACT)

    # Fillet5
    fillet5_edges = [part.edges().sort_by_distance(p)[0] for p in [
        (-19.812, -2.0955, 3.81),
        (-19.812, -22.9235, 3.81),
        (19.812, -22.9235, 3.81),
        (19.812, -2.0955, 3.81),
    ]]
    fillet(fillet5_edges, radius=FILLET5_R)

    # Sketch15 → Logo Fill for 1/8" Router Bit (add)
    with BuildSketch(Plane.XY.offset(13.97)):
        with BuildLine():
            Line((1.122975297, -15.990826916), (0.606016963, -16.50779201))
            add(Edge.make_bspline(
                [(0.606016963, -16.50779201), (0.443754619, -16.669780262), (0.22955188, -16.758380436), (0, -16.758380436)],
                knots=[17, 17, 17, 17, 18, 18, 18, 18], degree=3))
            add(Edge.make_bspline(
                [(0, -16.758380436), (-0.228352728, -16.758380436), (-0.443686096, -16.669095033), (-0.605503041, -16.507449395)],
                knots=[16, 16, 16, 16, 17, 17, 17, 17], degree=3))
            Line((-0.605503041, -16.507449395), (-1.122120092, -15.990810235))
            ThreePointArc((-1.122120092, -15.990810235), (0.000424148, -16.45580224), (1.122975297, -15.990826916))
        make_face()
        with BuildLine():
            Line((-5.086852244, -12.025908404), (-6.209412612, -10.903299994))
            add(Edge.make_bspline(
                [(-6.209412612, -10.903299994), (-5.628564976, -10.322534425), (-5.086754951, -9.780795126)],
                knots=[14, 14, 14, 14.092127895, 14.092127895, 14.092127895], degree=2))
            ThreePointArc((-5.086754951, -9.780795126), (-5.551796207, -10.903331614), (-5.086852244, -12.025908404))
        make_face()
        with BuildLine():
            Line((-10.568867647, -6.543448927), (-11.084991757, -6.026932835))
            add(Edge.make_bspline(
                [(-11.084991757, -6.026932835), (-11.247288362, -5.865150152), (-11.336059843, -5.650056615), (-11.336745072, -5.421738148)],
                knots=[10, 10, 10, 10, 11, 11, 11, 11], degree=3))
            add(Edge.make_bspline(
                [(-11.336745072, -5.421738148), (-11.336745072, -5.192871498), (-11.247288362, -4.978428928), (-11.086122385, -4.81630363)],
                knots=[9, 9, 9, 9, 10, 10, 10, 10], degree=3))
            add(Edge.make_bspline(
                [(-11.086122385, -4.81630363), (-10.824126761, -4.554407103), (-10.568246029, -4.29861552)],
                knots=[8, 8, 8, 8.052588855, 8.052588855, 8.052588855], degree=2))
            ThreePointArc((-10.568246029, -4.29861552), (-11.033409548, -5.420903501), (-10.568867647, -6.543448927))
        make_face()
        with BuildLine():
            Line((11.086465, -6.027206927), (10.569030585, -6.544648108))
            ThreePointArc((10.569030585, -6.544648108), (11.03399123, -5.422085425), (10.568976834, -4.299545007))
            add(Edge.make_bspline(
                [(10.568976834, -4.299545007), (10.825028323, -4.555575325), (11.085779771, -4.81630363)],
                knots=[21.96929761, 21.96929761, 21.96929761, 22, 22, 22], degree=2))
            add(Edge.make_bspline(
                [(11.085779771, -4.81630363), (11.247630977, -4.977675175), (11.336847856, -5.192871498), (11.336847856, -5.422560423)],
                knots=[20, 20, 20, 20, 21, 21, 21, 21], degree=3))
            add(Edge.make_bspline(
                [(11.336847856, -5.422560423), (11.336436719, -5.649371385), (11.247630977, -5.865150152), (11.086465, -6.027206927)],
                knots=[19, 19, 19, 19, 20, 20, 20, 20], degree=3))
        make_face()
        with BuildLine():
            Line((-8.017356366, -9.096898006), (-9.139760019, -7.97364192))
            ThreePointArc((-9.139760019, -7.97364192), (-8.017192198, -8.439036041), (-6.89439572, -7.974193843))
            add(Edge.make_bspline(
                [(-6.89439572, -7.974193843), (-7.436562853, -8.516239522), (-8.017356366, -9.096898006)],
                knots=[12.906163256, 12.906163256, 12.906163256, 13, 13, 13], degree=2))
        make_face()
    extrude(amount=-LOGO_FILL_FOR_1_8_ROUTER_BIT_DEPTH)


solid = part.part
